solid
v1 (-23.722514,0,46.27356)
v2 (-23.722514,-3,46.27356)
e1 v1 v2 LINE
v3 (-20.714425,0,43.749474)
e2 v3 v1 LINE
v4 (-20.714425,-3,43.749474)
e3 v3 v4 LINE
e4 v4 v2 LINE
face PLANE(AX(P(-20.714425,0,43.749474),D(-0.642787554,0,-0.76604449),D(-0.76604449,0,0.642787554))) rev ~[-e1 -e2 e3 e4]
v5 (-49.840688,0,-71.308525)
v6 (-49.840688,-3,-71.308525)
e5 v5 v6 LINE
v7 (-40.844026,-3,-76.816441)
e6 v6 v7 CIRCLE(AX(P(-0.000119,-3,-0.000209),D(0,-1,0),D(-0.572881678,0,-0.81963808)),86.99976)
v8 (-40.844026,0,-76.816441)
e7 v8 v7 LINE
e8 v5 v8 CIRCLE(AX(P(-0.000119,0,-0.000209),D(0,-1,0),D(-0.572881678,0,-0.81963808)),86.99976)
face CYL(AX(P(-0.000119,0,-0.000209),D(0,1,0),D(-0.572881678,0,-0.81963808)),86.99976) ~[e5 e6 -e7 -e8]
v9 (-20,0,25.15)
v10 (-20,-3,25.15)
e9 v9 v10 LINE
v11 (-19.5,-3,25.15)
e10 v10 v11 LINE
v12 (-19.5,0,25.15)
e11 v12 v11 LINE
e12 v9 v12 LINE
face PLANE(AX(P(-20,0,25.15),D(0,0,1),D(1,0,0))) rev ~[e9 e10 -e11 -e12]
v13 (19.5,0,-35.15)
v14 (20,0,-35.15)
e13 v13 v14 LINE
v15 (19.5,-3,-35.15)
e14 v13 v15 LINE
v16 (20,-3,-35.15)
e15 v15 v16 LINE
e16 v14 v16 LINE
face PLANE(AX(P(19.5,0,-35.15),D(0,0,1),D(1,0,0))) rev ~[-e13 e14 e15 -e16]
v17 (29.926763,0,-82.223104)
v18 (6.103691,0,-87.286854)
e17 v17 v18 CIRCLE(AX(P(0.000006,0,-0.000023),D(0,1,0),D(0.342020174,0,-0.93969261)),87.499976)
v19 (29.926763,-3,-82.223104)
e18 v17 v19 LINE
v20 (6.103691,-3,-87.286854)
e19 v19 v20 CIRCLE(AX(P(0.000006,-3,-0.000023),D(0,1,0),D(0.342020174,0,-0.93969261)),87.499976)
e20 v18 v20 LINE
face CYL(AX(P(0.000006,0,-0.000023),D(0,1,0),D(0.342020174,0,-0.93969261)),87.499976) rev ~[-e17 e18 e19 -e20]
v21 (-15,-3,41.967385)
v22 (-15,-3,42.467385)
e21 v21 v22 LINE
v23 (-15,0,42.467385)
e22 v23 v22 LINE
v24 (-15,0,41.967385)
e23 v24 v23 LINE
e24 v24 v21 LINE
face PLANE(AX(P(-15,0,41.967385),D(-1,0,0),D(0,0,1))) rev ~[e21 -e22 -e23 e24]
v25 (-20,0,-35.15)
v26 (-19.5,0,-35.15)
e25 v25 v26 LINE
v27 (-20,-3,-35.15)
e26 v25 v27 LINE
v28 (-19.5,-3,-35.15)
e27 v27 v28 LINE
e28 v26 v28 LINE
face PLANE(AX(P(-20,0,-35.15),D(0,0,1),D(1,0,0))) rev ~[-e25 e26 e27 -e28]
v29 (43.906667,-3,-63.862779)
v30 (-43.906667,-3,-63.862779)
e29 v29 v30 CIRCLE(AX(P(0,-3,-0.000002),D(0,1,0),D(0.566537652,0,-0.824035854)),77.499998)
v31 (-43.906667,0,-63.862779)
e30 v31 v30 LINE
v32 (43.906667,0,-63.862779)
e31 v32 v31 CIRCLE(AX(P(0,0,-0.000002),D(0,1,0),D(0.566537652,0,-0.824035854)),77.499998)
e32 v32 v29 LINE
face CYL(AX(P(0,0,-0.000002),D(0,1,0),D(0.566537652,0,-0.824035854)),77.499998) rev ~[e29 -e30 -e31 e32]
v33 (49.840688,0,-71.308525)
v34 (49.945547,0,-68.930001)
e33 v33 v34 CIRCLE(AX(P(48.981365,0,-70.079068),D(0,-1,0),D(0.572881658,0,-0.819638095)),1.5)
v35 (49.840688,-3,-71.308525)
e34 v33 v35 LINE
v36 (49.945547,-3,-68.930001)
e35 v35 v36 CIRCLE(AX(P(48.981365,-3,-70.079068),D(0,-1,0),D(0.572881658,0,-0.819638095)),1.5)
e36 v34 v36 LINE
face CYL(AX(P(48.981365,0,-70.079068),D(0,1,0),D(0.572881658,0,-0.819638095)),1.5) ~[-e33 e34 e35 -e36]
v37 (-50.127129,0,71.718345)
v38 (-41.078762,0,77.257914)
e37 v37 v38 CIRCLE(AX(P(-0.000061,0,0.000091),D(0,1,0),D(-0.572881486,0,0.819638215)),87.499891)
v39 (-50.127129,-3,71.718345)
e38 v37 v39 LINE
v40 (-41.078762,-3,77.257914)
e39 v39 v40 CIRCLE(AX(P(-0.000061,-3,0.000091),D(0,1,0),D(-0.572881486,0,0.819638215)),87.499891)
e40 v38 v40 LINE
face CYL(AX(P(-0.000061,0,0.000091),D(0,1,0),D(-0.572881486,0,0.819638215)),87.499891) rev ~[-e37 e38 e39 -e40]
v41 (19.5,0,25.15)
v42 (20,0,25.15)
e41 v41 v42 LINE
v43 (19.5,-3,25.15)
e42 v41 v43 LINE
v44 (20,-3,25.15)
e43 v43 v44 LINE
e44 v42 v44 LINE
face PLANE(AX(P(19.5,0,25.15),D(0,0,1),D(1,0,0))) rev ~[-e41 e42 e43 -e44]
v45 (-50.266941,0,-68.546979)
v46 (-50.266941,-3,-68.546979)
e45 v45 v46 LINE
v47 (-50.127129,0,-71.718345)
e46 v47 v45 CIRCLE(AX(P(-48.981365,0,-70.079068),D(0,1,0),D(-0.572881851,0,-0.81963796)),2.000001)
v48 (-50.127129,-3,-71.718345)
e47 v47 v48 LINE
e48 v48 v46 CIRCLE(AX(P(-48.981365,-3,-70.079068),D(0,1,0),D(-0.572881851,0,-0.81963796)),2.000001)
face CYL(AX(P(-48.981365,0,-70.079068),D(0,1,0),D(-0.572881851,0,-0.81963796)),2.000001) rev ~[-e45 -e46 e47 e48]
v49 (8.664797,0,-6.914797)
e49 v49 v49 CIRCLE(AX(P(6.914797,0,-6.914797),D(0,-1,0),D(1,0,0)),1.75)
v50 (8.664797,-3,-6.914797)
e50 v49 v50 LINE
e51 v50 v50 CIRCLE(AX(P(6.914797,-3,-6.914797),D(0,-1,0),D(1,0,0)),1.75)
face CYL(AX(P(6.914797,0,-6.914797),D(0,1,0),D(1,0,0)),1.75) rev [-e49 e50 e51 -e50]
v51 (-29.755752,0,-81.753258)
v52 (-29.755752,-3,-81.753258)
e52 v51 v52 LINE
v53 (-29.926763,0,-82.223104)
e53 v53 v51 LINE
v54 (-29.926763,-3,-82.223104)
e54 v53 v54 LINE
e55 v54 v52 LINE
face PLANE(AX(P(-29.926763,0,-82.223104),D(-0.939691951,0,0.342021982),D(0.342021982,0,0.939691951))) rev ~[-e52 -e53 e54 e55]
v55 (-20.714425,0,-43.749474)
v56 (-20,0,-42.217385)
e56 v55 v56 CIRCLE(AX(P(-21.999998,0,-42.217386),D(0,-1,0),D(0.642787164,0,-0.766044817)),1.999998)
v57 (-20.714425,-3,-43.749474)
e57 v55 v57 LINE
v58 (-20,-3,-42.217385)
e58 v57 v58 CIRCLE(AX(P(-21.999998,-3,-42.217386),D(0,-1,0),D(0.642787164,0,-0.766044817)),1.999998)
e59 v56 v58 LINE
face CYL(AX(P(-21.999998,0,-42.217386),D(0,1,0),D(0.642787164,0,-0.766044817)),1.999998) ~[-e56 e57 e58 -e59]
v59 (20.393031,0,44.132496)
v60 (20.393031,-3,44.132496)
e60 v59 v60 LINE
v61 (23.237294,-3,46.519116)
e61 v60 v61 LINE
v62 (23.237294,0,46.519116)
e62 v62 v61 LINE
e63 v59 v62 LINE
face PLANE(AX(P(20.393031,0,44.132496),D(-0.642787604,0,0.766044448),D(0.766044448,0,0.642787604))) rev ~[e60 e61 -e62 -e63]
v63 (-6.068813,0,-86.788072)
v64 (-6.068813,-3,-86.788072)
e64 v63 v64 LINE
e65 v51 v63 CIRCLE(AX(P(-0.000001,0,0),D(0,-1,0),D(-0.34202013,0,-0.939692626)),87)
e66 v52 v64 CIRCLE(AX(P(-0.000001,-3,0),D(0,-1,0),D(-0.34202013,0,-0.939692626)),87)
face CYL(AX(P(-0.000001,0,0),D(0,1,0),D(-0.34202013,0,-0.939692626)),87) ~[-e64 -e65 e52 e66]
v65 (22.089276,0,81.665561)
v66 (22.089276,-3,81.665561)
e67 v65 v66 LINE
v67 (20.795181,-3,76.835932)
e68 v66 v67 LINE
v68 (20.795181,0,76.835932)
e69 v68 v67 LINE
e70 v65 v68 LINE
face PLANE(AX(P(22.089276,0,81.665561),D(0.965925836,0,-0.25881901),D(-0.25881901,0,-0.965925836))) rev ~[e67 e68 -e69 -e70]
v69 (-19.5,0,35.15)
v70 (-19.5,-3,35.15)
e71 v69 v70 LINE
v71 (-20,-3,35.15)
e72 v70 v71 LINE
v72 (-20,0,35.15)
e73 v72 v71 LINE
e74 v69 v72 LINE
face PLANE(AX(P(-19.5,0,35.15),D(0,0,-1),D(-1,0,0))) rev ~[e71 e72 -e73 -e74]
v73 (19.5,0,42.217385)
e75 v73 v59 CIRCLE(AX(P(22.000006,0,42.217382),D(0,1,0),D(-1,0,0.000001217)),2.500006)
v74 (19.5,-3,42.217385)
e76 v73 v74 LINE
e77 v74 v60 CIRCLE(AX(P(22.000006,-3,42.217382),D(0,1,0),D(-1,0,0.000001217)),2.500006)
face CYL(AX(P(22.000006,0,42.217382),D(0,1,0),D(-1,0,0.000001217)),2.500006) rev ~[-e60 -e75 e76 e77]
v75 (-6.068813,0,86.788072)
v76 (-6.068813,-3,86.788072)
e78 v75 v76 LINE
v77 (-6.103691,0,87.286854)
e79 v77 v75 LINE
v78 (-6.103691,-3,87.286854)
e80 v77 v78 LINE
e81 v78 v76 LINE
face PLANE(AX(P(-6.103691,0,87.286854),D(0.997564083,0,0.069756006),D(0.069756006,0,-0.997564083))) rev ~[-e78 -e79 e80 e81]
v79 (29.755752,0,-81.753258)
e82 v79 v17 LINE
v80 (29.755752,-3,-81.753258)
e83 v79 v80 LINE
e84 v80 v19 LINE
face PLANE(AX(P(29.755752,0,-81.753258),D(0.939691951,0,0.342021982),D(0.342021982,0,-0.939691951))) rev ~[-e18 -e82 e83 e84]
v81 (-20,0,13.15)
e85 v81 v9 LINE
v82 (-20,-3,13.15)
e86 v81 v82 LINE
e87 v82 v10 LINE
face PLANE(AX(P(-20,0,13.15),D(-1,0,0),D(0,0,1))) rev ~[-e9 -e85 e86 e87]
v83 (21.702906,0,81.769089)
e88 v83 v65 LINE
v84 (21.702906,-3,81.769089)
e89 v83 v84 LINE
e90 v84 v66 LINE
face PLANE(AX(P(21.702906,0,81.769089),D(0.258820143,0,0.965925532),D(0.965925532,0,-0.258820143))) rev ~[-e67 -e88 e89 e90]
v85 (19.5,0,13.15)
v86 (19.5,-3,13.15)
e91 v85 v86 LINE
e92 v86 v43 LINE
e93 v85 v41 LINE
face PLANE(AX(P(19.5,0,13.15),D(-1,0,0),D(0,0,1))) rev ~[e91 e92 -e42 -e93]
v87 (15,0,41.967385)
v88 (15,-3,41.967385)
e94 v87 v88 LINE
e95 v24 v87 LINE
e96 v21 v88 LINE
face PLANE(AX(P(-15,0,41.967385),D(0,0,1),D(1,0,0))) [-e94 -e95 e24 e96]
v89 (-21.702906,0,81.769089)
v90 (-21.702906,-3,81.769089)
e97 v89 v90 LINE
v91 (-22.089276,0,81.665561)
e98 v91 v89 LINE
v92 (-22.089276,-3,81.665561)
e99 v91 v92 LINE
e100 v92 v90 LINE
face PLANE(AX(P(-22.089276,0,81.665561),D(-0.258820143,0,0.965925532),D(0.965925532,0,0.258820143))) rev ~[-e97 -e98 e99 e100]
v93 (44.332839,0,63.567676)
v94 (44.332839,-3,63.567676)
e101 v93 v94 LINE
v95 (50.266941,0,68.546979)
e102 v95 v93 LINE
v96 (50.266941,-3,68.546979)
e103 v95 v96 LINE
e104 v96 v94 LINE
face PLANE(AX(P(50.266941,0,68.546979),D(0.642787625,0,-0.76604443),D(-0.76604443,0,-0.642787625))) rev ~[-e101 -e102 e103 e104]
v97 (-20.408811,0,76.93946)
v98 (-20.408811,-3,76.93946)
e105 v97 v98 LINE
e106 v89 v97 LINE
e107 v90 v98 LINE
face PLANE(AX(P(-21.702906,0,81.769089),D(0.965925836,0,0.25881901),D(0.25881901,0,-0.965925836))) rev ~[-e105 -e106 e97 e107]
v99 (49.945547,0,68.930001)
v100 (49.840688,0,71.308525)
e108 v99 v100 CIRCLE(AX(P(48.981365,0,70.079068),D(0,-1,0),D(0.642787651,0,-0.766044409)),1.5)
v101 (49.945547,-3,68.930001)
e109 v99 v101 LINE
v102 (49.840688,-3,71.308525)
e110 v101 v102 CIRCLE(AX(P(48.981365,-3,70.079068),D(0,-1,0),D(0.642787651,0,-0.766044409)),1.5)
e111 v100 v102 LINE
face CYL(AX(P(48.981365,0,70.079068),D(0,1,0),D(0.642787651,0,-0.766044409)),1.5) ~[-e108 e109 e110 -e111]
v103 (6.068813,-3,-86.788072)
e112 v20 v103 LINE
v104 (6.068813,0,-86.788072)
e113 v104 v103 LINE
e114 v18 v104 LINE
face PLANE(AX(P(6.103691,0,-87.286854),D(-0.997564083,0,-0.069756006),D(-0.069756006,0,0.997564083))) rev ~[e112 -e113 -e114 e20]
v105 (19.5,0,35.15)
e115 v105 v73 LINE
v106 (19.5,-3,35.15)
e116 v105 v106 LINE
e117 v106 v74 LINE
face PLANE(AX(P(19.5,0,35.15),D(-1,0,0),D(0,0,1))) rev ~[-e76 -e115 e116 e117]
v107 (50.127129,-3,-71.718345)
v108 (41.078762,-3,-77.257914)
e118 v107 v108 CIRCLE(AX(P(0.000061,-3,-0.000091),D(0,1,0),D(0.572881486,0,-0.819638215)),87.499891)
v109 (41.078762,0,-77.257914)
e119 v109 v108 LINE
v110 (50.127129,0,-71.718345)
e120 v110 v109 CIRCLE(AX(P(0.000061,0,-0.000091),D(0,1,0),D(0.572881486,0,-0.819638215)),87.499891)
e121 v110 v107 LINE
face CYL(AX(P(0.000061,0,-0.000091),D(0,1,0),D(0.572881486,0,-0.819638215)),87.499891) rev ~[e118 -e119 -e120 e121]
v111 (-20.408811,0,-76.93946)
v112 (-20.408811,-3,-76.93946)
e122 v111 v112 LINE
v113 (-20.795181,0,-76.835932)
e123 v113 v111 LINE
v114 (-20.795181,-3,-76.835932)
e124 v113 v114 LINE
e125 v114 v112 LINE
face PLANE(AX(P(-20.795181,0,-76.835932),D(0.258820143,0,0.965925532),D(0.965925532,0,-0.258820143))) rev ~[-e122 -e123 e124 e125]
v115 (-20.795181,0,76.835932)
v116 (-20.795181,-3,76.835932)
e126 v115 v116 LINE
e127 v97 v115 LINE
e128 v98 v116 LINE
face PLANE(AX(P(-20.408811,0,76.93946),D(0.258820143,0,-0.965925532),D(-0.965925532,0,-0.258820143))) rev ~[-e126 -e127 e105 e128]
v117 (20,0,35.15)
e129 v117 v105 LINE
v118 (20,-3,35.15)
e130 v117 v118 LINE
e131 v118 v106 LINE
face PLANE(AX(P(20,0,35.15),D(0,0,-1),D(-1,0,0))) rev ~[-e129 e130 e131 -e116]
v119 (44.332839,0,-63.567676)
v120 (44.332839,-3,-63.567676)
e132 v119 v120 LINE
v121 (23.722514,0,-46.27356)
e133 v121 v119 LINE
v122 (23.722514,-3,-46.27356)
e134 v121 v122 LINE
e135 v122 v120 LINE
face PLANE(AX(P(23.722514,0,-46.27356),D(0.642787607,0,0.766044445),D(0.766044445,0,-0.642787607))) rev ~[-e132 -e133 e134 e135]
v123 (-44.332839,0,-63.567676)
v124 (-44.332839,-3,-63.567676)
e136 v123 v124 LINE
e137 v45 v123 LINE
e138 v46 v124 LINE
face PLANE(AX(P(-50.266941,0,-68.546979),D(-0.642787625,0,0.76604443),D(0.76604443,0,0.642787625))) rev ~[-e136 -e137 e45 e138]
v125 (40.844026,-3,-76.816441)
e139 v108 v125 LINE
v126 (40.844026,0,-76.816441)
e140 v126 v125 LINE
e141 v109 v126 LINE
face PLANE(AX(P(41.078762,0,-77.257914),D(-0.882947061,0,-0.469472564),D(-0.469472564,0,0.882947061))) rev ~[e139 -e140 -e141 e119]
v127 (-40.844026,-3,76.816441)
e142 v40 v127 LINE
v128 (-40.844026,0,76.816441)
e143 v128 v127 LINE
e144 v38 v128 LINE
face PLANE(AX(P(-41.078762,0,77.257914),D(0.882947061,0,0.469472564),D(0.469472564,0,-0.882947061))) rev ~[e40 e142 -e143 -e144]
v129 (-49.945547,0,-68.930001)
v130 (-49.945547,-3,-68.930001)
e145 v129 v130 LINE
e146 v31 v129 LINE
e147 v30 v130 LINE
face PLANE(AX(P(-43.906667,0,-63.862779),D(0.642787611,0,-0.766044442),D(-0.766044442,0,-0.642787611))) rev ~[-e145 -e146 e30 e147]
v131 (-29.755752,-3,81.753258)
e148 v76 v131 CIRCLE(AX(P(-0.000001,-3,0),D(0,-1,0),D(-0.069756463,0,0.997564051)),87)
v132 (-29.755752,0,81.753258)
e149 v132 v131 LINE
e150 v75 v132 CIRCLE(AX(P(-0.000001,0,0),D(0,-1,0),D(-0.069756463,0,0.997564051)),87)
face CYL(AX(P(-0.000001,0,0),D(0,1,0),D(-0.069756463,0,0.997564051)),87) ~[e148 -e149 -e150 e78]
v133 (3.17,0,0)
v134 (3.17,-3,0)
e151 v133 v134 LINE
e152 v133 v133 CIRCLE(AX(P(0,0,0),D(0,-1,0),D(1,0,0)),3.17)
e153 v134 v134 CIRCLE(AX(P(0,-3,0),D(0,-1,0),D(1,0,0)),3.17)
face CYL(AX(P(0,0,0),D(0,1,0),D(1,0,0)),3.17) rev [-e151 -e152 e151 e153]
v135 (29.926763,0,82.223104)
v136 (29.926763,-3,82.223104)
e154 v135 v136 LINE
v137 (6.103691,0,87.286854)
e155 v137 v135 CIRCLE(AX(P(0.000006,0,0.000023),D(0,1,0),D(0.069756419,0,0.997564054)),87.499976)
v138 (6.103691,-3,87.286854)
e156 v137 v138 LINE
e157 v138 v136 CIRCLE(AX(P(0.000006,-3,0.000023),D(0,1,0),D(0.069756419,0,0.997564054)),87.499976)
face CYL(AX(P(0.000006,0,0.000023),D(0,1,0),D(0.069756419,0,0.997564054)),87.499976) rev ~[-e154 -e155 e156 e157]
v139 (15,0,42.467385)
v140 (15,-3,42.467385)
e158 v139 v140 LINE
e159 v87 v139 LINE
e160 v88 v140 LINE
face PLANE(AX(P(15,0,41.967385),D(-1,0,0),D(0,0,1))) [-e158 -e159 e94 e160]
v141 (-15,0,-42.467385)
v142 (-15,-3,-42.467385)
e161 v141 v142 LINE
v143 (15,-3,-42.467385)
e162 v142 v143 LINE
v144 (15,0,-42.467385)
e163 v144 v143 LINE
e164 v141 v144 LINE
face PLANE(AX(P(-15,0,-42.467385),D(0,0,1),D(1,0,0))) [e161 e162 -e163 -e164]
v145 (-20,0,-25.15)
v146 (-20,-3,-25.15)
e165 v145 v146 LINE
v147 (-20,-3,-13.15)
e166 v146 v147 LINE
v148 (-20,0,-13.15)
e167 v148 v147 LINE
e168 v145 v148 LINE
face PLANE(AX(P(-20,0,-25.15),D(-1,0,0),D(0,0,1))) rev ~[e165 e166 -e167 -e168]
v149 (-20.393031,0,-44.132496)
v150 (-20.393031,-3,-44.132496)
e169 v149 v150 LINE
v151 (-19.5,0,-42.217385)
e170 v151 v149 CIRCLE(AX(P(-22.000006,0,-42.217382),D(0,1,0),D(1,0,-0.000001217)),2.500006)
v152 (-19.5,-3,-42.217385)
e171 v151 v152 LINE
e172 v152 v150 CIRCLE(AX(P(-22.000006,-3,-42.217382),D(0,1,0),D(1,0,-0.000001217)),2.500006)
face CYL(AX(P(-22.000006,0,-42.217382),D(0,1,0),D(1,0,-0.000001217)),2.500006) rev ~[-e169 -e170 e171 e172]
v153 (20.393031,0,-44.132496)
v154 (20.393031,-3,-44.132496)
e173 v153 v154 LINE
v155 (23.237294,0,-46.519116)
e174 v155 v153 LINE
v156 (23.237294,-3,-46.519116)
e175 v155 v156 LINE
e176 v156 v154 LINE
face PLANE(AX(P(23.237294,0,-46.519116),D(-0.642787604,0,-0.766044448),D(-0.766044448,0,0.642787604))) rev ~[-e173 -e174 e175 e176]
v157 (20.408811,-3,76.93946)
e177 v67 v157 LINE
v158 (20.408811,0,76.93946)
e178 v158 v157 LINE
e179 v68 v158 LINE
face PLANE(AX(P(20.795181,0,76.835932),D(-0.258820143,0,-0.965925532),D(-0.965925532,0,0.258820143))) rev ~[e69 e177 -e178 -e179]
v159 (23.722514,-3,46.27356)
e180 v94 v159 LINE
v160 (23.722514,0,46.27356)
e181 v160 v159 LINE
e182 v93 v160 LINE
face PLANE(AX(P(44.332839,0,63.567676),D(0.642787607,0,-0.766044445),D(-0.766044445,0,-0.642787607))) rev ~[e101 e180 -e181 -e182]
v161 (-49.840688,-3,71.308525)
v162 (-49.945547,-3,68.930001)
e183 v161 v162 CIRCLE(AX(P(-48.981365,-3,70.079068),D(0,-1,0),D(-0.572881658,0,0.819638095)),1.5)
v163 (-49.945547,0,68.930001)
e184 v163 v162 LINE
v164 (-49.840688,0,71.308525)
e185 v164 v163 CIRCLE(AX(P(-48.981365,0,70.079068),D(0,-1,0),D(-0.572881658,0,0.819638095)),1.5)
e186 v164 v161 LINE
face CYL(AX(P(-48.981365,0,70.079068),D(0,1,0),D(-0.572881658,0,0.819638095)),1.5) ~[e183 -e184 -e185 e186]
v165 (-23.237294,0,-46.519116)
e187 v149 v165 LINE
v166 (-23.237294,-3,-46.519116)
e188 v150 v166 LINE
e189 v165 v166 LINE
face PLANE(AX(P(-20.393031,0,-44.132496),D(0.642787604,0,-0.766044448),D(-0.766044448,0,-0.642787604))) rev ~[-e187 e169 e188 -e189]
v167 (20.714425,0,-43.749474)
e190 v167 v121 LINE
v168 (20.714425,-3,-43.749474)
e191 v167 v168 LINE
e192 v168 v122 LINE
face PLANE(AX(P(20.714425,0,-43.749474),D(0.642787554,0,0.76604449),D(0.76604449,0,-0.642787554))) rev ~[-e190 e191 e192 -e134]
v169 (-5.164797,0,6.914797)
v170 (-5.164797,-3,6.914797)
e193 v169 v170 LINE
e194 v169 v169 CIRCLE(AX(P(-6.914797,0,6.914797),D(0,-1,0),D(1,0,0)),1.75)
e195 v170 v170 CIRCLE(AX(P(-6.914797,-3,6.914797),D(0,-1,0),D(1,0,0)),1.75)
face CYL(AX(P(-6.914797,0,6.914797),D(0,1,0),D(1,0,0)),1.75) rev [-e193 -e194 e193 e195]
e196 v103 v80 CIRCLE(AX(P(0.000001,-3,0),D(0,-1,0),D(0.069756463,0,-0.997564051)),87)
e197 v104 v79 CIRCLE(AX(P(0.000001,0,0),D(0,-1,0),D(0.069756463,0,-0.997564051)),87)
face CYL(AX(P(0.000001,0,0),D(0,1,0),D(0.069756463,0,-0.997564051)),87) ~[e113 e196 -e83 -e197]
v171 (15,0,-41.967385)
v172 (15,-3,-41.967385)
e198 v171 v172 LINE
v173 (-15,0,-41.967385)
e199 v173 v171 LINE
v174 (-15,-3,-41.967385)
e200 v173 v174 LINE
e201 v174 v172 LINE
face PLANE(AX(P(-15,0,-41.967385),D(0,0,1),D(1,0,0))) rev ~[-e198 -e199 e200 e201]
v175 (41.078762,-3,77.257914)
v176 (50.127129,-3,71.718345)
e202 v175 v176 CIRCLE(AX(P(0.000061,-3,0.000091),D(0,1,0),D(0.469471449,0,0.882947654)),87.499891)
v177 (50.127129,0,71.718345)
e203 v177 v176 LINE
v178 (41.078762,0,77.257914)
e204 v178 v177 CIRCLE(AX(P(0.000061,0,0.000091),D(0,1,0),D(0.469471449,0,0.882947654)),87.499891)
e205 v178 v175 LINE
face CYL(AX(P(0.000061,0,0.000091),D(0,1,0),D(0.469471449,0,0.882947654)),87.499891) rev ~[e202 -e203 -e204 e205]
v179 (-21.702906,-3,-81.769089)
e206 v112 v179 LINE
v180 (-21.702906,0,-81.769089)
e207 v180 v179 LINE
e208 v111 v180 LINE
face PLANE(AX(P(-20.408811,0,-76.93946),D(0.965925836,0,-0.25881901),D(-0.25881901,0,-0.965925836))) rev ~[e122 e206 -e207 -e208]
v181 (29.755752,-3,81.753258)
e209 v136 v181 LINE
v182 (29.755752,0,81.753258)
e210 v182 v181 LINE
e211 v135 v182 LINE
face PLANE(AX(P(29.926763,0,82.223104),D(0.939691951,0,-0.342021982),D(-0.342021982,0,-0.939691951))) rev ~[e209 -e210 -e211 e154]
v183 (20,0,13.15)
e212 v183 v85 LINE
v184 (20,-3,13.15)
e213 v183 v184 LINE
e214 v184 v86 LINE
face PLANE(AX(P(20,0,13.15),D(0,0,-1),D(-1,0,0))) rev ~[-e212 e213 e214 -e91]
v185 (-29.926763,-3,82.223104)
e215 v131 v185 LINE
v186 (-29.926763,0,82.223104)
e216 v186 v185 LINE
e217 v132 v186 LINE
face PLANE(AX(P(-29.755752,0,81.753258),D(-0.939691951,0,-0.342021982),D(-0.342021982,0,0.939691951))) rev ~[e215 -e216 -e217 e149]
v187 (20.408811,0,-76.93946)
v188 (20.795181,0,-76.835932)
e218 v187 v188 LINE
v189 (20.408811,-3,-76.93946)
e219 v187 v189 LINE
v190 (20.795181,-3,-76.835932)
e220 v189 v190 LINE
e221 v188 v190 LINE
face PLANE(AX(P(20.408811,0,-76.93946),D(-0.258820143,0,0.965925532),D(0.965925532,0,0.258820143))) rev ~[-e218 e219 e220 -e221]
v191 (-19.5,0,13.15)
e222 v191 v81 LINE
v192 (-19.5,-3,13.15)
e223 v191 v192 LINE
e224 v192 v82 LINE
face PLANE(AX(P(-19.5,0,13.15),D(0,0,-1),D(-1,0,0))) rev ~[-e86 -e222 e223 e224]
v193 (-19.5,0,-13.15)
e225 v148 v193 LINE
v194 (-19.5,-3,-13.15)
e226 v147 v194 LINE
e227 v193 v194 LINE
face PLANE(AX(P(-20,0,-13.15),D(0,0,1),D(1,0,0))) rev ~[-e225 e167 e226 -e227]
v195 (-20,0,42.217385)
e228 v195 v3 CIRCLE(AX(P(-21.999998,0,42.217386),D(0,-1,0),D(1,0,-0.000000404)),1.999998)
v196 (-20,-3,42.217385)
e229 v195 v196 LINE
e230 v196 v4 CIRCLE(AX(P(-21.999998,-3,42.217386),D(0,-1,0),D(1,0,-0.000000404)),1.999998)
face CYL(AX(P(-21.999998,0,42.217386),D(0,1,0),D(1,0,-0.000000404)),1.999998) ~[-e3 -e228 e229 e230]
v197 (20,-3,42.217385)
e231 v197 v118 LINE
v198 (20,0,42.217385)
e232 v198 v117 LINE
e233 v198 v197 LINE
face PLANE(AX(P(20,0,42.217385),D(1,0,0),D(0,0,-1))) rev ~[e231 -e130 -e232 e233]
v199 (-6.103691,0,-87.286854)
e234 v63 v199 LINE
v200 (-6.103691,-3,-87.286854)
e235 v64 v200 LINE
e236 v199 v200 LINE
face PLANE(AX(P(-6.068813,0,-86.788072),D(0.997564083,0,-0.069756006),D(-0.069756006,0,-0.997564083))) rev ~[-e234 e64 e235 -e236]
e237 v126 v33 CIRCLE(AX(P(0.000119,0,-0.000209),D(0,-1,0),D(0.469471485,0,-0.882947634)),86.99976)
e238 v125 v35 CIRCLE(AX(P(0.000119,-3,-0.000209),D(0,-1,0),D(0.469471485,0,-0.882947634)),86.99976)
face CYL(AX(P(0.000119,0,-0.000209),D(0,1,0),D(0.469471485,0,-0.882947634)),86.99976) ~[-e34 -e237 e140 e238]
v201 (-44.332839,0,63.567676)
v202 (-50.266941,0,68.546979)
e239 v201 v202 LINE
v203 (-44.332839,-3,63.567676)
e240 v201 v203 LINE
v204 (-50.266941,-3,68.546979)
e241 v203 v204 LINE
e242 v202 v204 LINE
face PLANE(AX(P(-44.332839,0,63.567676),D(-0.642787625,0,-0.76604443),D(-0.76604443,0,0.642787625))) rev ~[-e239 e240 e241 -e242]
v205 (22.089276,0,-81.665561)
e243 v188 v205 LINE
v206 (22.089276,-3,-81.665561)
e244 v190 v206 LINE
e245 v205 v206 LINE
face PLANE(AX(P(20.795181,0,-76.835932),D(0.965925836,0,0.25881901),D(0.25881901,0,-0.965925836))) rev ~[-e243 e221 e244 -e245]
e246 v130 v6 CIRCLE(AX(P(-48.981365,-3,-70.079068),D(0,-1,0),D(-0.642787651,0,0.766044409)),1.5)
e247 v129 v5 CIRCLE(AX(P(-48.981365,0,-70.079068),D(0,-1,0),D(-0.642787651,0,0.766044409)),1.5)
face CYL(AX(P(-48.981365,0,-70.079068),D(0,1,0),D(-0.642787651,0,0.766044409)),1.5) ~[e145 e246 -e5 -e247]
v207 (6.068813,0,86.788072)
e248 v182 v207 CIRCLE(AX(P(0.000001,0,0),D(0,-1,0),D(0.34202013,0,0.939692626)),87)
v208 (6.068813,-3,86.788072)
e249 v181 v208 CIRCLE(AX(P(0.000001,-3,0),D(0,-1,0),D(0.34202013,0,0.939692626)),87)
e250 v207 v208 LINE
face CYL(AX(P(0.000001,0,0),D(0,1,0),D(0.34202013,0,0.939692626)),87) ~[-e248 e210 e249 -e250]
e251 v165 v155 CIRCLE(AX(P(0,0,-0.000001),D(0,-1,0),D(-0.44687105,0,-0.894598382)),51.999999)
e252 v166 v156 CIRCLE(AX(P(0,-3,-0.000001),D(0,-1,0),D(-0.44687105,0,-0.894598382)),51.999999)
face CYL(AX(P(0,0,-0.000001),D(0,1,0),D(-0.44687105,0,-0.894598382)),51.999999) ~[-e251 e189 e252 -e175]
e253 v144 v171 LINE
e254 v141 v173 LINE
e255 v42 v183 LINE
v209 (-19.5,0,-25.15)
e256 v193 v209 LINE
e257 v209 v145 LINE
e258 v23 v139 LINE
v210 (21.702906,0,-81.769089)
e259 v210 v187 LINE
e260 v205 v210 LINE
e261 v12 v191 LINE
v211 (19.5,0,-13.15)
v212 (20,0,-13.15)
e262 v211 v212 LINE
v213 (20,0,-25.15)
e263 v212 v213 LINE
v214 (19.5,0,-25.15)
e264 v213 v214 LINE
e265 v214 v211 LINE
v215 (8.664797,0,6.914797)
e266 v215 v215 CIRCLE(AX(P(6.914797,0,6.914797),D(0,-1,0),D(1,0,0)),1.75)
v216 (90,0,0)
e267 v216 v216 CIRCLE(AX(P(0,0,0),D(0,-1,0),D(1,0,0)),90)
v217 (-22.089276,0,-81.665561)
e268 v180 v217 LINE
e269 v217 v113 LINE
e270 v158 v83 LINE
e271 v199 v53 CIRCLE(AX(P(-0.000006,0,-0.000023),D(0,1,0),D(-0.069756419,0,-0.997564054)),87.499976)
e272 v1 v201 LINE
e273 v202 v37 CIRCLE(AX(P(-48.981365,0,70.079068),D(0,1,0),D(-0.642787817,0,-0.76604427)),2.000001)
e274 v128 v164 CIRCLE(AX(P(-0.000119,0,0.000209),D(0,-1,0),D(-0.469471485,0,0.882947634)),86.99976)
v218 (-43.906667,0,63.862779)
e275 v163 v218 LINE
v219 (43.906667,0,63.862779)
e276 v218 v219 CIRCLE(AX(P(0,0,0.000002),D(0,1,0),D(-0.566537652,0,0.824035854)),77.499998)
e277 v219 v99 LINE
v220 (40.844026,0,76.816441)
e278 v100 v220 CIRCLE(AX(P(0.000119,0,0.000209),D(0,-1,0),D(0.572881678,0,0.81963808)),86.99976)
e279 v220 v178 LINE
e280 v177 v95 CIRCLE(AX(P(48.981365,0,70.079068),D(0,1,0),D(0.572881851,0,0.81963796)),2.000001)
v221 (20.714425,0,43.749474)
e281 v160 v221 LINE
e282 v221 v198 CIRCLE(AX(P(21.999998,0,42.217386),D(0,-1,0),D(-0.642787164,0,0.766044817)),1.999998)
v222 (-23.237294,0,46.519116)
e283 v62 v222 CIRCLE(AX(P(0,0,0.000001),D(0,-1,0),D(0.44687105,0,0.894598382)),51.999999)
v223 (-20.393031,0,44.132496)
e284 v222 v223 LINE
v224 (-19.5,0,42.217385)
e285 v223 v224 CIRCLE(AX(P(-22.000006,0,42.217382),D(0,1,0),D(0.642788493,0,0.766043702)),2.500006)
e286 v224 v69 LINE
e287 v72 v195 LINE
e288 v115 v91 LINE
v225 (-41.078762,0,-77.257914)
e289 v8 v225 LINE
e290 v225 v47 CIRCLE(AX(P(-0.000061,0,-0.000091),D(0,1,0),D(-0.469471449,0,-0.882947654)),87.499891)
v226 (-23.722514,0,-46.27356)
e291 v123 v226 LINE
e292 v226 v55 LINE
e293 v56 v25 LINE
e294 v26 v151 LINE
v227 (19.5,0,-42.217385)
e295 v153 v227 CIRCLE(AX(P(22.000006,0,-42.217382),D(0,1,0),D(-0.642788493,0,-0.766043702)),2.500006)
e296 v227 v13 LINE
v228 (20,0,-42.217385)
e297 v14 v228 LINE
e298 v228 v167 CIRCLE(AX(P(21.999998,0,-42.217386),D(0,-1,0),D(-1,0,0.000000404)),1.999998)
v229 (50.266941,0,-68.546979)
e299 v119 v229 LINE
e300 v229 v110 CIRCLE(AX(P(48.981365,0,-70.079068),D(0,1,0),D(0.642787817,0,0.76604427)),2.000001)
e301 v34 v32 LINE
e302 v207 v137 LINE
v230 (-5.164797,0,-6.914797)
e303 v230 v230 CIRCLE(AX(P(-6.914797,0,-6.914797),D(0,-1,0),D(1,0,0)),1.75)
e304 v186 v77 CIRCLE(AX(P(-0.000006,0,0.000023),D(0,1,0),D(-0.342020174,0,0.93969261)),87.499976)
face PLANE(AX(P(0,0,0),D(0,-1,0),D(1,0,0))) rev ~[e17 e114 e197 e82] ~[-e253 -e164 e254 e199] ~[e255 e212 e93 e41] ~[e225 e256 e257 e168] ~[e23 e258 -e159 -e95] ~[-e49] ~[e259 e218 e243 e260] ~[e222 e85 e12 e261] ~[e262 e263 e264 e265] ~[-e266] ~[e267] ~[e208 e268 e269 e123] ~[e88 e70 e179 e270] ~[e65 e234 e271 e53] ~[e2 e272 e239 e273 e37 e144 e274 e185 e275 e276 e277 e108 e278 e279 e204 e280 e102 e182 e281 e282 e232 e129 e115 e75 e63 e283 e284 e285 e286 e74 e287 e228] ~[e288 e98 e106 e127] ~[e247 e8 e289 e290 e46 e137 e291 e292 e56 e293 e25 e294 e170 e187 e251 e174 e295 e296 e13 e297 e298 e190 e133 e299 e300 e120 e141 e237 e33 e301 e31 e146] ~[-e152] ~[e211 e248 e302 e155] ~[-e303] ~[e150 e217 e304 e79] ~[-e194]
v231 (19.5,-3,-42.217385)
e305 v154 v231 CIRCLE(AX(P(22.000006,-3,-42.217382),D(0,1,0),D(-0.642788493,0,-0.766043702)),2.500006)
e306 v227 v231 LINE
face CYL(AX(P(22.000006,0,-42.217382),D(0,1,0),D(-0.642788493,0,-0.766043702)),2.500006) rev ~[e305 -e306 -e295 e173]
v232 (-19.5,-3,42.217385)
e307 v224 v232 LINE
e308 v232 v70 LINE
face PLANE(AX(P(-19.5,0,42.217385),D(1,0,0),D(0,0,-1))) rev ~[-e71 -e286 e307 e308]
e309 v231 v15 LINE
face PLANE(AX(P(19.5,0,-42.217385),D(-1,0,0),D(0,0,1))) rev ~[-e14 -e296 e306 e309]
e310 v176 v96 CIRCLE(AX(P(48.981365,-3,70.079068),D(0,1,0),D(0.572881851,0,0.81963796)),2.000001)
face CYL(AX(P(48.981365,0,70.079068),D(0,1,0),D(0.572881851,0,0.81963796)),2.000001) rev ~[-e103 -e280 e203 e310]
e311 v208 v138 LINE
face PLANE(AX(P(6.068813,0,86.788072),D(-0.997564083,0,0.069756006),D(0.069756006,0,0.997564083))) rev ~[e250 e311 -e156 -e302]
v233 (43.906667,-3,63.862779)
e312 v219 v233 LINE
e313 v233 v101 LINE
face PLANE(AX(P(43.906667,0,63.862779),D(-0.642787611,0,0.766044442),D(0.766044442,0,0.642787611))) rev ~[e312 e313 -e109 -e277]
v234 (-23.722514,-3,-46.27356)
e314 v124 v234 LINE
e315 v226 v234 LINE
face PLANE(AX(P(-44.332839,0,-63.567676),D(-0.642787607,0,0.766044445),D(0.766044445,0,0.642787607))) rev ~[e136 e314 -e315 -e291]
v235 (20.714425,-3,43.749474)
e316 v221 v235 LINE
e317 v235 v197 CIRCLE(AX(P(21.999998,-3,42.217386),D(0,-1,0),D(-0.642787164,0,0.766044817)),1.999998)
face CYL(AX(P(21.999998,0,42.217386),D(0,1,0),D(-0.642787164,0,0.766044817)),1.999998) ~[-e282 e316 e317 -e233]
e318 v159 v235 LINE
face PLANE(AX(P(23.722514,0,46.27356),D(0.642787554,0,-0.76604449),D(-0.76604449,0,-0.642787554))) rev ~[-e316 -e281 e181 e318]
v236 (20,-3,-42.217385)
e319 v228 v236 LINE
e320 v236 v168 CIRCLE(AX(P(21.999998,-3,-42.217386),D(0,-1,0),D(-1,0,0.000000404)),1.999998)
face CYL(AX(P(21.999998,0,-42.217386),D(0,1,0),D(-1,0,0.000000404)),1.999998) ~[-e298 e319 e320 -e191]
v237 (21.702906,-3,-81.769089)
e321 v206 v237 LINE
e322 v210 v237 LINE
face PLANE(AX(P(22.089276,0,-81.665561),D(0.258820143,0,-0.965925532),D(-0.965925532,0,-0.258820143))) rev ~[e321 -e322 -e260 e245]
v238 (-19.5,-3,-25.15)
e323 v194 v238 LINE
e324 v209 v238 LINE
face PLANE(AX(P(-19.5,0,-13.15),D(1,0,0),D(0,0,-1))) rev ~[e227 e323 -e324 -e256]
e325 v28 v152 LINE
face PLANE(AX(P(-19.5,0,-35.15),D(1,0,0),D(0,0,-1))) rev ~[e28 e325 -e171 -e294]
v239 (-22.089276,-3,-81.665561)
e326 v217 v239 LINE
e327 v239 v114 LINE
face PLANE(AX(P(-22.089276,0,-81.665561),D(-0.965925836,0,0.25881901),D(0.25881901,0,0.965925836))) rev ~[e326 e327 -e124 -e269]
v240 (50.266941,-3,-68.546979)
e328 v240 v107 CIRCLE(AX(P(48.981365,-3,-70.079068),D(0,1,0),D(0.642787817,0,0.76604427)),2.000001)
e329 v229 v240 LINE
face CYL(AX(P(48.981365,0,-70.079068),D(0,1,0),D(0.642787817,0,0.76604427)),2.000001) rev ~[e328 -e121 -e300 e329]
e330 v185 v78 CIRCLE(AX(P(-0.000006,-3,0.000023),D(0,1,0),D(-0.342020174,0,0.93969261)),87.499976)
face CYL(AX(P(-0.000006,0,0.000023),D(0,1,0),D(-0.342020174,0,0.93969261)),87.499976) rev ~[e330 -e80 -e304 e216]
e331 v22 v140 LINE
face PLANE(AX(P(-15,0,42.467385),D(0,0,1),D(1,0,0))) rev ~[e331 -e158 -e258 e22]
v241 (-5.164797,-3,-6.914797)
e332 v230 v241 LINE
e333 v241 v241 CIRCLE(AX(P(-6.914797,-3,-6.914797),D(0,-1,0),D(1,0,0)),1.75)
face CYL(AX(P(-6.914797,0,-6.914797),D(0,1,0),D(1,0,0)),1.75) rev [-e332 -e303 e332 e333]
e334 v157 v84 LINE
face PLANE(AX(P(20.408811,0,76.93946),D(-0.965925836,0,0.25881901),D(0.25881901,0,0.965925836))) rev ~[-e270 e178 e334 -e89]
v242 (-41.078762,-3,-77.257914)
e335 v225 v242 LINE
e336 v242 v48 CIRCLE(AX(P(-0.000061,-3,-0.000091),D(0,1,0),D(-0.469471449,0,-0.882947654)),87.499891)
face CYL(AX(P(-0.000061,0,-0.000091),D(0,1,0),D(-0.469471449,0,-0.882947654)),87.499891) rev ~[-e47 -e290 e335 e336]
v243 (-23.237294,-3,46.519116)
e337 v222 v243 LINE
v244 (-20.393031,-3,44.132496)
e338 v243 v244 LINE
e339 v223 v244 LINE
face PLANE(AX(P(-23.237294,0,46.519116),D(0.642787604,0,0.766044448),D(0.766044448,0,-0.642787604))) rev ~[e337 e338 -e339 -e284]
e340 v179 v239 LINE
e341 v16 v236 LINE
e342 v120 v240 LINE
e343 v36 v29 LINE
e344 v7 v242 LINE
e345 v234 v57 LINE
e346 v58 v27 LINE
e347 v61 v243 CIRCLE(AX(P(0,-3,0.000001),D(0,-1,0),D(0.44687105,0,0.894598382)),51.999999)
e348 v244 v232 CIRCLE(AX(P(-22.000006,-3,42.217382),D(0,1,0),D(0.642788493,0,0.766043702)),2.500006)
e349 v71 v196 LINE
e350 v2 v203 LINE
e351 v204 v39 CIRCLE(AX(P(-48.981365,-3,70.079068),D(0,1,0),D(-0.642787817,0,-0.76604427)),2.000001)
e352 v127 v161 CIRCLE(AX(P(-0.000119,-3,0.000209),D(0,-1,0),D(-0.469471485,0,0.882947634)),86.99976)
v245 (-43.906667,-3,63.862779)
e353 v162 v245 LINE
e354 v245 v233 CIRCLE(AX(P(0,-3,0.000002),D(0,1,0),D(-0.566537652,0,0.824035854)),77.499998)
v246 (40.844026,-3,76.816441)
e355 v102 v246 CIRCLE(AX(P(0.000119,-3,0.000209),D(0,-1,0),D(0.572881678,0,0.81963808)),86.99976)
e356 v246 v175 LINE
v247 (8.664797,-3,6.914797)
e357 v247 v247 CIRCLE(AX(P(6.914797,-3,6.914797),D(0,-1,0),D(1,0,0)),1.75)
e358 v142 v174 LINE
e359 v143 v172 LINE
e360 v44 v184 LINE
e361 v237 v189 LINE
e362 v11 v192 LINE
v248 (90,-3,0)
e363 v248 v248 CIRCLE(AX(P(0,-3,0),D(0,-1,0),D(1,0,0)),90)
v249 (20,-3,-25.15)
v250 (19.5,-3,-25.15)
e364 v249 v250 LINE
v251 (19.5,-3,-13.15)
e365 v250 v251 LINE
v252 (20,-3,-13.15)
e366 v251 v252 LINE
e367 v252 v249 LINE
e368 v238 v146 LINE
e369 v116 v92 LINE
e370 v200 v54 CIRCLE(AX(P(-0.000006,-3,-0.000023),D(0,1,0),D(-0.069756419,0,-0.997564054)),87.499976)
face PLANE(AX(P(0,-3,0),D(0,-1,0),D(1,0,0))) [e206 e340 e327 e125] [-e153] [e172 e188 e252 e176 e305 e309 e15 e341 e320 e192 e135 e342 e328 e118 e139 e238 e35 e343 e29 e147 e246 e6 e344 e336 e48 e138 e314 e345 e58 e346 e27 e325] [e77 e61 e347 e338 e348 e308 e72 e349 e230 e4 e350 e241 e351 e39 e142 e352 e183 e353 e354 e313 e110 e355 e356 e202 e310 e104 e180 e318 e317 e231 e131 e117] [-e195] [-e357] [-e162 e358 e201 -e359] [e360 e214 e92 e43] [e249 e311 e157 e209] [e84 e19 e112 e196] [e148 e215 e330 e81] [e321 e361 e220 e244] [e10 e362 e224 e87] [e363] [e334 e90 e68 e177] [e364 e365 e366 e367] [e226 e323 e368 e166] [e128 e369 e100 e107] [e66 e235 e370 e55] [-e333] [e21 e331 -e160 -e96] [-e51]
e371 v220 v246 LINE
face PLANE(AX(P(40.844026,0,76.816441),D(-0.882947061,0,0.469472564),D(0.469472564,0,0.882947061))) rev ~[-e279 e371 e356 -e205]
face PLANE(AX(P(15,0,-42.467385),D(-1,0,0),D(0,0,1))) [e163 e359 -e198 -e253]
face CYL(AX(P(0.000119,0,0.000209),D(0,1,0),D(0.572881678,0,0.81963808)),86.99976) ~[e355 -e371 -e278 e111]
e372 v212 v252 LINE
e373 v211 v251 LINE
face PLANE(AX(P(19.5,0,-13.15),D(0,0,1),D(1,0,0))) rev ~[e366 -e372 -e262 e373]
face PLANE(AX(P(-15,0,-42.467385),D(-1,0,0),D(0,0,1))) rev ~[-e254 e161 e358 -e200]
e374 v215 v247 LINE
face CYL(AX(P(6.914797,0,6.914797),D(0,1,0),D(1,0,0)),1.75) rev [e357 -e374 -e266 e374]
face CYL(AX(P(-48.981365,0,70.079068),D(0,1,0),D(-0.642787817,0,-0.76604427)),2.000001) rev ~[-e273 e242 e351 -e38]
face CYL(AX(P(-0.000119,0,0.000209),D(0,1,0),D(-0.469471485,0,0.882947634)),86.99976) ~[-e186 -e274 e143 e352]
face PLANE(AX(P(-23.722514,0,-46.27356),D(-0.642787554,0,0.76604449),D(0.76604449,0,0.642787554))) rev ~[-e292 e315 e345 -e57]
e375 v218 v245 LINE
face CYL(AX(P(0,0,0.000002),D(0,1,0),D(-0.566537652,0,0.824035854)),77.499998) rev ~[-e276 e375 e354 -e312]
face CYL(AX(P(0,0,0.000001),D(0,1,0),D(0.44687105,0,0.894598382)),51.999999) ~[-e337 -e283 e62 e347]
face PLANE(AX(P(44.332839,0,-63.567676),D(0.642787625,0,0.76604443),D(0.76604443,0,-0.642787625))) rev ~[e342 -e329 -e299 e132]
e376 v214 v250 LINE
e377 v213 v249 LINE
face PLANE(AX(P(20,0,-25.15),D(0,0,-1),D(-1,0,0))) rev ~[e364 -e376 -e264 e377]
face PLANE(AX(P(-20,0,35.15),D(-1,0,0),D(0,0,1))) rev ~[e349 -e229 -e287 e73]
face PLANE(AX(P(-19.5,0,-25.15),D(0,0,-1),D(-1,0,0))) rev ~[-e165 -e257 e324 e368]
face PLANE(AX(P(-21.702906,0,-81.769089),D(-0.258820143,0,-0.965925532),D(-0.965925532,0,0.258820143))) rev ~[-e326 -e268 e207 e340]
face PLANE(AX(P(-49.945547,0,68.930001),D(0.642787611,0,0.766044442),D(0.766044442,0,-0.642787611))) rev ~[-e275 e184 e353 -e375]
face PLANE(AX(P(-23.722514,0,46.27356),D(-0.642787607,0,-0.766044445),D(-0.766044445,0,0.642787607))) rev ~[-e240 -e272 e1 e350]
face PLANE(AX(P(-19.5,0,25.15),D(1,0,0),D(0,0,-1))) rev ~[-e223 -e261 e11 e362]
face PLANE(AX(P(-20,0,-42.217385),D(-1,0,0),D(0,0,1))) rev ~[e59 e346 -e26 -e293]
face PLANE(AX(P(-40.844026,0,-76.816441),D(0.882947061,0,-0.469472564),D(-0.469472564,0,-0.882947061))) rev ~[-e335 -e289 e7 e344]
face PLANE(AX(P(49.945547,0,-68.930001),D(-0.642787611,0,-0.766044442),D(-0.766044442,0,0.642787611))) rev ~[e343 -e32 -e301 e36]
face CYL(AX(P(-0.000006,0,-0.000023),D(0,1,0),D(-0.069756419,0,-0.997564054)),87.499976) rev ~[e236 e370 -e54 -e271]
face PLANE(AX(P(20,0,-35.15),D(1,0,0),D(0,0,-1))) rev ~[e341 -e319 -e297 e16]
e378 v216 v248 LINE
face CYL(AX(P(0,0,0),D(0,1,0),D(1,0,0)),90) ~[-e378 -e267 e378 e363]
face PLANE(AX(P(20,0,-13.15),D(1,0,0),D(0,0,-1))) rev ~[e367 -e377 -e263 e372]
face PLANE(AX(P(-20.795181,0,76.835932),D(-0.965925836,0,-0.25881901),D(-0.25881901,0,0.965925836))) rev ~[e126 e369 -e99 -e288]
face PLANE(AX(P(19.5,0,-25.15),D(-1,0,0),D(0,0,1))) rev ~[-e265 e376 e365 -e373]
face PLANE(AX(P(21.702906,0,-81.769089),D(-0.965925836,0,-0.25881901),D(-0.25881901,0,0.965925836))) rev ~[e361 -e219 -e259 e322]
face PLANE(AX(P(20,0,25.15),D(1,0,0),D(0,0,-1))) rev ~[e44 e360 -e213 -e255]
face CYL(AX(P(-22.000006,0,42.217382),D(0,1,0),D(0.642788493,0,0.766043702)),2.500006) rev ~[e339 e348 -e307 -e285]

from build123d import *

# Parameters (mm, degrees)
F0_R     = 90
F0_R_2   = 1.75
F0_W     = 30
F0_H     = 0.5
F0_R_3   = 3.17
F1_DEPTH = 3


with BuildPart() as f1:
    # F0 (on Front) → F1 (new body)
    with BuildSketch(Plane.XZ):
        Circle(F0_R)
        with BuildLine():
            Line((-29.926763, -82.223104), (-29.755752, -81.753258))
            ThreePointArc((-29.755752, -81.753258), (-18.088317, -85.098841), (-6.068813, -86.788072))
            Line((-6.068813, -86.788072), (-6.103691, -87.286854))
            ThreePointArc((-6.103691, -87.286854), (-18.192273, -85.587915), (-29.926763, -82.223104))
        make_face(mode=Mode.SUBTRACT)
        Polygon((-20.795181, -76.835932), (-20.408811, -76.93946), (-21.702906, -81.769089), (-22.089276, -81.665561), align=None, mode=Mode.SUBTRACT)
        Polygon((-19.5, -25.15), (-20, -25.15), (-20, -15.15), (-20, -13.15), (-19.5, -13.15), (-19.5, -15.15), align=None, mode=Mode.SUBTRACT)
        with Locations((-6.914797, -6.914797)):
            Circle(F0_R_2, mode=Mode.SUBTRACT)
        with BuildLine():
            Line((6.103691, -87.286854), (6.068813, -86.788072))
            ThreePointArc((6.068813, -86.788072), (18.088317, -85.098841), (29.755752, -81.753258))
            Line((29.755752, -81.753258), (29.926763, -82.223104))
            ThreePointArc((29.926763, -82.223104), (18.192273, -85.587915), (6.103691, -87.286854))
        make_face(mode=Mode.SUBTRACT)
        Polygon((22.089276, -81.665561), (21.702906, -81.769089), (20.408811, -76.93946), (20.795181, -76.835932), align=None, mode=Mode.SUBTRACT)
        with BuildLine():
            ThreePointArc((-41.078762, -77.257914), (-45.686982, -74.625396), (-50.127129, -71.718345))
            ThreePointArc((-50.127129, -71.718345), (-50.979425, -70.167154), (-50.266941, -68.546979))
            Line((-50.266941, -68.546979), (-44.332839, -63.567676))
            Line((-44.332839, -63.567676), (-23.722514, -46.27356))
            Line((-23.722514, -46.27356), (-20.714425, -43.749474))
            ThreePointArc((-20.714425, -43.749474), (-20.187384, -43.062621), (-20, -42.217385))
            Line((-20, -42.217385), (-20, -35.15))
            Line((-20, -35.15), (-19.5, -35.15))
            Line((-19.5, -35.15), (-19.5, -42.217385))
            ThreePointArc((-19.5, -42.217385), (-19.734231, -43.27393), (-20.393031, -44.132496))
            Line((-20.393031, -44.132496), (-23.237294, -46.519116))
            ThreePointArc((-23.237294, -46.519116), (0, -52), (23.237294, -46.519116))
            Line((23.237294, -46.519116), (20.393031, -44.132496))
            ThreePointArc((20.393031, -44.132496), (19.734231, -43.27393), (19.5, -42.217385))
            Line((19.5, -42.217385), (19.5, -35.15))
            Line((19.5, -35.15), (20, -35.15))
            Line((20, -35.15), (20, -42.217385))
            ThreePointArc((20, -42.217385), (20.187384, -43.062621), (20.714425, -43.749474))
            Line((20.714425, -43.749474), (23.722514, -46.27356))
            Line((23.722514, -46.27356), (44.332839, -63.567676))
            Line((44.332839, -63.567676), (50.266941, -68.546979))
            ThreePointArc((50.266941, -68.546979), (50.979425, -70.167154), (50.127129, -71.718345))
            ThreePointArc((50.127129, -71.718345), (45.686982, -74.625396), (41.078762, -77.257914))
            Line((41.078762, -77.257914), (40.844026, -76.816441))
            ThreePointArc((40.844026, -76.816441), (45.425914, -74.198965), (49.840688, -71.308525))
            ThreePointArc((49.840688, -71.308525), (50.47991, -70.145133), (49.945547, -68.930001))
            Line((49.945547, -68.930001), (43.906667, -63.862779))
            ThreePointArc((43.906667, -63.862779), (0, -77.5), (-43.906667, -63.862779))
            Line((-43.906667, -63.862779), (-49.945547, -68.930001))
            ThreePointArc((-49.945547, -68.930001), (-50.47991, -70.145133), (-49.840688, -71.308525))
            ThreePointArc((-49.840688, -71.308525), (-45.425914, -74.198965), (-40.844026, -76.816441))
            Line((-40.844026, -76.816441), (-41.078762, -77.257914))
        make_face(mode=Mode.SUBTRACT)
        with Locations((0, -42.217385)):
            Rectangle(F0_W, F0_H, mode=Mode.SUBTRACT)
        Polygon((20, -13.15), (20, -15.15), (20, -25.15), (19.5, -25.15), (19.5, -15.15), (19.5, -13.15), align=None, mode=Mode.SUBTRACT)
        with Locations((6.914797, -6.914797)):
            Circle(F0_R_2, mode=Mode.SUBTRACT)
        with Locations((-6.914797, 6.914797)):
            Circle(F0_R_2, mode=Mode.SUBTRACT)
        Polygon((-19.5, 25.15), (-19.5, 15.15), (-19.5, 13.15), (-20, 13.15), (-20, 15.15), (-20, 25.15), align=None, mode=Mode.SUBTRACT)
        Polygon((-21.702906, 81.769089), (-20.408811, 76.93946), (-20.795181, 76.835932), (-22.089276, 81.665561), align=None, mode=Mode.SUBTRACT)
        with BuildLine():
            Line((-6.103691, 87.286854), (-6.068813, 86.788072))
            ThreePointArc((-6.068813, 86.788072), (-18.088317, 85.098841), (-29.755752, 81.753258))
            Line((-29.755752, 81.753258), (-29.926763, 82.223104))
            ThreePointArc((-29.926763, 82.223104), (-18.192273, 85.587915), (-6.103691, 87.286854))
        make_face(mode=Mode.SUBTRACT)
        Circle(F0_R_3, mode=Mode.SUBTRACT)
        with Locations((6.914797, 6.914797)):
            Circle(F0_R_2, mode=Mode.SUBTRACT)
        Polygon((20, 25.15), (20, 15.15), (20, 13.15), (19.5, 13.15), (19.5, 15.15), (19.5, 25.15), align=None, mode=Mode.SUBTRACT)
        with Locations((0, 42.217385)):
            Rectangle(F0_W, F0_H, mode=Mode.SUBTRACT)
        with BuildLine():
            ThreePointArc((20.714425, 43.749474), (20.187384, 43.062621), (20, 42.217385))
            Line((20, 42.217385), (20, 35.15))
            Line((20, 35.15), (19.5, 35.15))
            Line((19.5, 35.15), (19.5, 42.217385))
            ThreePointArc((19.5, 42.217385), (19.734231, 43.27393), (20.393031, 44.132496))
            Line((20.393031, 44.132496), (23.237294, 46.519116))
            ThreePointArc((23.237294, 46.519116), (0, 52), (-23.237294, 46.519116))
            Line((-23.237294, 46.519116), (-20.393031, 44.132496))
            ThreePointArc((-20.393031, 44.132496), (-19.734231, 43.27393), (-19.5, 42.217385))
            Line((-19.5, 42.217385), (-19.5, 35.15))
            Line((-19.5, 35.15), (-20, 35.15))
            Line((-20, 35.15), (-20, 42.217385))
            ThreePointArc((-20, 42.217385), (-20.187384, 43.062621), (-20.714425, 43.749474))
            Line((-20.714425, 43.749474), (-23.722514, 46.27356))
            Line((-23.722514, 46.27356), (-44.332839, 63.567676))
            Line((-44.332839, 63.567676), (-50.266941, 68.546979))
            ThreePointArc((-50.266941, 68.546979), (-50.979425, 70.167154), (-50.127129, 71.718345))
            ThreePointArc((-50.127129, 71.718345), (-45.686982, 74.625396), (-41.078762, 77.257914))
            Line((-41.078762, 77.257914), (-40.844026, 76.816441))
            ThreePointArc((-40.844026, 76.816441), (-45.425914, 74.198965), (-49.840688, 71.308525))
            ThreePointArc((-49.840688, 71.308525), (-50.47991, 70.145133), (-49.945547, 68.930001))
            Line((-49.945547, 68.930001), (-43.906667, 63.862779))
            ThreePointArc((-43.906667, 63.862779), (0, 77.5), (43.906667, 63.862779))
            Line((43.906667, 63.862779), (49.945547, 68.930001))
            ThreePointArc((49.945547, 68.930001), (50.47991, 70.145133), (49.840688, 71.308525))
            ThreePointArc((49.840688, 71.308525), (45.425914, 74.198965), (40.844026, 76.816441))
            Line((40.844026, 76.816441), (41.078762, 77.257914))
            ThreePointArc((41.078762, 77.257914), (45.686982, 74.625396), (50.127129, 71.718345))
            ThreePointArc((50.127129, 71.718345), (50.979425, 70.167154), (50.266941, 68.546979))
            Line((50.266941, 68.546979), (44.332839, 63.567676))
            Line((44.332839, 63.567676), (23.722514, 46.27356))
            Line((23.722514, 46.27356), (20.714425, 43.749474))
        make_face(mode=Mode.SUBTRACT)
        Polygon((20.795181, 76.835932), (20.408811, 76.93946), (21.702906, 81.769089), (22.089276, 81.665561), align=None, mode=Mode.SUBTRACT)
        with BuildLine():
            Line((29.926763, 82.223104), (29.755752, 81.753258))
            ThreePointArc((29.755752, 81.753258), (18.088317, 85.098841), (6.068813, 86.788072))
            Line((6.068813, 86.788072), (6.103691, 87.286854))
            ThreePointArc((6.103691, 87.286854), (18.192273, 85.587915), (29.926763, 82.223104))
        make_face(mode=Mode.SUBTRACT)
    extrude(amount=F1_DEPTH)


solid = f1.part
